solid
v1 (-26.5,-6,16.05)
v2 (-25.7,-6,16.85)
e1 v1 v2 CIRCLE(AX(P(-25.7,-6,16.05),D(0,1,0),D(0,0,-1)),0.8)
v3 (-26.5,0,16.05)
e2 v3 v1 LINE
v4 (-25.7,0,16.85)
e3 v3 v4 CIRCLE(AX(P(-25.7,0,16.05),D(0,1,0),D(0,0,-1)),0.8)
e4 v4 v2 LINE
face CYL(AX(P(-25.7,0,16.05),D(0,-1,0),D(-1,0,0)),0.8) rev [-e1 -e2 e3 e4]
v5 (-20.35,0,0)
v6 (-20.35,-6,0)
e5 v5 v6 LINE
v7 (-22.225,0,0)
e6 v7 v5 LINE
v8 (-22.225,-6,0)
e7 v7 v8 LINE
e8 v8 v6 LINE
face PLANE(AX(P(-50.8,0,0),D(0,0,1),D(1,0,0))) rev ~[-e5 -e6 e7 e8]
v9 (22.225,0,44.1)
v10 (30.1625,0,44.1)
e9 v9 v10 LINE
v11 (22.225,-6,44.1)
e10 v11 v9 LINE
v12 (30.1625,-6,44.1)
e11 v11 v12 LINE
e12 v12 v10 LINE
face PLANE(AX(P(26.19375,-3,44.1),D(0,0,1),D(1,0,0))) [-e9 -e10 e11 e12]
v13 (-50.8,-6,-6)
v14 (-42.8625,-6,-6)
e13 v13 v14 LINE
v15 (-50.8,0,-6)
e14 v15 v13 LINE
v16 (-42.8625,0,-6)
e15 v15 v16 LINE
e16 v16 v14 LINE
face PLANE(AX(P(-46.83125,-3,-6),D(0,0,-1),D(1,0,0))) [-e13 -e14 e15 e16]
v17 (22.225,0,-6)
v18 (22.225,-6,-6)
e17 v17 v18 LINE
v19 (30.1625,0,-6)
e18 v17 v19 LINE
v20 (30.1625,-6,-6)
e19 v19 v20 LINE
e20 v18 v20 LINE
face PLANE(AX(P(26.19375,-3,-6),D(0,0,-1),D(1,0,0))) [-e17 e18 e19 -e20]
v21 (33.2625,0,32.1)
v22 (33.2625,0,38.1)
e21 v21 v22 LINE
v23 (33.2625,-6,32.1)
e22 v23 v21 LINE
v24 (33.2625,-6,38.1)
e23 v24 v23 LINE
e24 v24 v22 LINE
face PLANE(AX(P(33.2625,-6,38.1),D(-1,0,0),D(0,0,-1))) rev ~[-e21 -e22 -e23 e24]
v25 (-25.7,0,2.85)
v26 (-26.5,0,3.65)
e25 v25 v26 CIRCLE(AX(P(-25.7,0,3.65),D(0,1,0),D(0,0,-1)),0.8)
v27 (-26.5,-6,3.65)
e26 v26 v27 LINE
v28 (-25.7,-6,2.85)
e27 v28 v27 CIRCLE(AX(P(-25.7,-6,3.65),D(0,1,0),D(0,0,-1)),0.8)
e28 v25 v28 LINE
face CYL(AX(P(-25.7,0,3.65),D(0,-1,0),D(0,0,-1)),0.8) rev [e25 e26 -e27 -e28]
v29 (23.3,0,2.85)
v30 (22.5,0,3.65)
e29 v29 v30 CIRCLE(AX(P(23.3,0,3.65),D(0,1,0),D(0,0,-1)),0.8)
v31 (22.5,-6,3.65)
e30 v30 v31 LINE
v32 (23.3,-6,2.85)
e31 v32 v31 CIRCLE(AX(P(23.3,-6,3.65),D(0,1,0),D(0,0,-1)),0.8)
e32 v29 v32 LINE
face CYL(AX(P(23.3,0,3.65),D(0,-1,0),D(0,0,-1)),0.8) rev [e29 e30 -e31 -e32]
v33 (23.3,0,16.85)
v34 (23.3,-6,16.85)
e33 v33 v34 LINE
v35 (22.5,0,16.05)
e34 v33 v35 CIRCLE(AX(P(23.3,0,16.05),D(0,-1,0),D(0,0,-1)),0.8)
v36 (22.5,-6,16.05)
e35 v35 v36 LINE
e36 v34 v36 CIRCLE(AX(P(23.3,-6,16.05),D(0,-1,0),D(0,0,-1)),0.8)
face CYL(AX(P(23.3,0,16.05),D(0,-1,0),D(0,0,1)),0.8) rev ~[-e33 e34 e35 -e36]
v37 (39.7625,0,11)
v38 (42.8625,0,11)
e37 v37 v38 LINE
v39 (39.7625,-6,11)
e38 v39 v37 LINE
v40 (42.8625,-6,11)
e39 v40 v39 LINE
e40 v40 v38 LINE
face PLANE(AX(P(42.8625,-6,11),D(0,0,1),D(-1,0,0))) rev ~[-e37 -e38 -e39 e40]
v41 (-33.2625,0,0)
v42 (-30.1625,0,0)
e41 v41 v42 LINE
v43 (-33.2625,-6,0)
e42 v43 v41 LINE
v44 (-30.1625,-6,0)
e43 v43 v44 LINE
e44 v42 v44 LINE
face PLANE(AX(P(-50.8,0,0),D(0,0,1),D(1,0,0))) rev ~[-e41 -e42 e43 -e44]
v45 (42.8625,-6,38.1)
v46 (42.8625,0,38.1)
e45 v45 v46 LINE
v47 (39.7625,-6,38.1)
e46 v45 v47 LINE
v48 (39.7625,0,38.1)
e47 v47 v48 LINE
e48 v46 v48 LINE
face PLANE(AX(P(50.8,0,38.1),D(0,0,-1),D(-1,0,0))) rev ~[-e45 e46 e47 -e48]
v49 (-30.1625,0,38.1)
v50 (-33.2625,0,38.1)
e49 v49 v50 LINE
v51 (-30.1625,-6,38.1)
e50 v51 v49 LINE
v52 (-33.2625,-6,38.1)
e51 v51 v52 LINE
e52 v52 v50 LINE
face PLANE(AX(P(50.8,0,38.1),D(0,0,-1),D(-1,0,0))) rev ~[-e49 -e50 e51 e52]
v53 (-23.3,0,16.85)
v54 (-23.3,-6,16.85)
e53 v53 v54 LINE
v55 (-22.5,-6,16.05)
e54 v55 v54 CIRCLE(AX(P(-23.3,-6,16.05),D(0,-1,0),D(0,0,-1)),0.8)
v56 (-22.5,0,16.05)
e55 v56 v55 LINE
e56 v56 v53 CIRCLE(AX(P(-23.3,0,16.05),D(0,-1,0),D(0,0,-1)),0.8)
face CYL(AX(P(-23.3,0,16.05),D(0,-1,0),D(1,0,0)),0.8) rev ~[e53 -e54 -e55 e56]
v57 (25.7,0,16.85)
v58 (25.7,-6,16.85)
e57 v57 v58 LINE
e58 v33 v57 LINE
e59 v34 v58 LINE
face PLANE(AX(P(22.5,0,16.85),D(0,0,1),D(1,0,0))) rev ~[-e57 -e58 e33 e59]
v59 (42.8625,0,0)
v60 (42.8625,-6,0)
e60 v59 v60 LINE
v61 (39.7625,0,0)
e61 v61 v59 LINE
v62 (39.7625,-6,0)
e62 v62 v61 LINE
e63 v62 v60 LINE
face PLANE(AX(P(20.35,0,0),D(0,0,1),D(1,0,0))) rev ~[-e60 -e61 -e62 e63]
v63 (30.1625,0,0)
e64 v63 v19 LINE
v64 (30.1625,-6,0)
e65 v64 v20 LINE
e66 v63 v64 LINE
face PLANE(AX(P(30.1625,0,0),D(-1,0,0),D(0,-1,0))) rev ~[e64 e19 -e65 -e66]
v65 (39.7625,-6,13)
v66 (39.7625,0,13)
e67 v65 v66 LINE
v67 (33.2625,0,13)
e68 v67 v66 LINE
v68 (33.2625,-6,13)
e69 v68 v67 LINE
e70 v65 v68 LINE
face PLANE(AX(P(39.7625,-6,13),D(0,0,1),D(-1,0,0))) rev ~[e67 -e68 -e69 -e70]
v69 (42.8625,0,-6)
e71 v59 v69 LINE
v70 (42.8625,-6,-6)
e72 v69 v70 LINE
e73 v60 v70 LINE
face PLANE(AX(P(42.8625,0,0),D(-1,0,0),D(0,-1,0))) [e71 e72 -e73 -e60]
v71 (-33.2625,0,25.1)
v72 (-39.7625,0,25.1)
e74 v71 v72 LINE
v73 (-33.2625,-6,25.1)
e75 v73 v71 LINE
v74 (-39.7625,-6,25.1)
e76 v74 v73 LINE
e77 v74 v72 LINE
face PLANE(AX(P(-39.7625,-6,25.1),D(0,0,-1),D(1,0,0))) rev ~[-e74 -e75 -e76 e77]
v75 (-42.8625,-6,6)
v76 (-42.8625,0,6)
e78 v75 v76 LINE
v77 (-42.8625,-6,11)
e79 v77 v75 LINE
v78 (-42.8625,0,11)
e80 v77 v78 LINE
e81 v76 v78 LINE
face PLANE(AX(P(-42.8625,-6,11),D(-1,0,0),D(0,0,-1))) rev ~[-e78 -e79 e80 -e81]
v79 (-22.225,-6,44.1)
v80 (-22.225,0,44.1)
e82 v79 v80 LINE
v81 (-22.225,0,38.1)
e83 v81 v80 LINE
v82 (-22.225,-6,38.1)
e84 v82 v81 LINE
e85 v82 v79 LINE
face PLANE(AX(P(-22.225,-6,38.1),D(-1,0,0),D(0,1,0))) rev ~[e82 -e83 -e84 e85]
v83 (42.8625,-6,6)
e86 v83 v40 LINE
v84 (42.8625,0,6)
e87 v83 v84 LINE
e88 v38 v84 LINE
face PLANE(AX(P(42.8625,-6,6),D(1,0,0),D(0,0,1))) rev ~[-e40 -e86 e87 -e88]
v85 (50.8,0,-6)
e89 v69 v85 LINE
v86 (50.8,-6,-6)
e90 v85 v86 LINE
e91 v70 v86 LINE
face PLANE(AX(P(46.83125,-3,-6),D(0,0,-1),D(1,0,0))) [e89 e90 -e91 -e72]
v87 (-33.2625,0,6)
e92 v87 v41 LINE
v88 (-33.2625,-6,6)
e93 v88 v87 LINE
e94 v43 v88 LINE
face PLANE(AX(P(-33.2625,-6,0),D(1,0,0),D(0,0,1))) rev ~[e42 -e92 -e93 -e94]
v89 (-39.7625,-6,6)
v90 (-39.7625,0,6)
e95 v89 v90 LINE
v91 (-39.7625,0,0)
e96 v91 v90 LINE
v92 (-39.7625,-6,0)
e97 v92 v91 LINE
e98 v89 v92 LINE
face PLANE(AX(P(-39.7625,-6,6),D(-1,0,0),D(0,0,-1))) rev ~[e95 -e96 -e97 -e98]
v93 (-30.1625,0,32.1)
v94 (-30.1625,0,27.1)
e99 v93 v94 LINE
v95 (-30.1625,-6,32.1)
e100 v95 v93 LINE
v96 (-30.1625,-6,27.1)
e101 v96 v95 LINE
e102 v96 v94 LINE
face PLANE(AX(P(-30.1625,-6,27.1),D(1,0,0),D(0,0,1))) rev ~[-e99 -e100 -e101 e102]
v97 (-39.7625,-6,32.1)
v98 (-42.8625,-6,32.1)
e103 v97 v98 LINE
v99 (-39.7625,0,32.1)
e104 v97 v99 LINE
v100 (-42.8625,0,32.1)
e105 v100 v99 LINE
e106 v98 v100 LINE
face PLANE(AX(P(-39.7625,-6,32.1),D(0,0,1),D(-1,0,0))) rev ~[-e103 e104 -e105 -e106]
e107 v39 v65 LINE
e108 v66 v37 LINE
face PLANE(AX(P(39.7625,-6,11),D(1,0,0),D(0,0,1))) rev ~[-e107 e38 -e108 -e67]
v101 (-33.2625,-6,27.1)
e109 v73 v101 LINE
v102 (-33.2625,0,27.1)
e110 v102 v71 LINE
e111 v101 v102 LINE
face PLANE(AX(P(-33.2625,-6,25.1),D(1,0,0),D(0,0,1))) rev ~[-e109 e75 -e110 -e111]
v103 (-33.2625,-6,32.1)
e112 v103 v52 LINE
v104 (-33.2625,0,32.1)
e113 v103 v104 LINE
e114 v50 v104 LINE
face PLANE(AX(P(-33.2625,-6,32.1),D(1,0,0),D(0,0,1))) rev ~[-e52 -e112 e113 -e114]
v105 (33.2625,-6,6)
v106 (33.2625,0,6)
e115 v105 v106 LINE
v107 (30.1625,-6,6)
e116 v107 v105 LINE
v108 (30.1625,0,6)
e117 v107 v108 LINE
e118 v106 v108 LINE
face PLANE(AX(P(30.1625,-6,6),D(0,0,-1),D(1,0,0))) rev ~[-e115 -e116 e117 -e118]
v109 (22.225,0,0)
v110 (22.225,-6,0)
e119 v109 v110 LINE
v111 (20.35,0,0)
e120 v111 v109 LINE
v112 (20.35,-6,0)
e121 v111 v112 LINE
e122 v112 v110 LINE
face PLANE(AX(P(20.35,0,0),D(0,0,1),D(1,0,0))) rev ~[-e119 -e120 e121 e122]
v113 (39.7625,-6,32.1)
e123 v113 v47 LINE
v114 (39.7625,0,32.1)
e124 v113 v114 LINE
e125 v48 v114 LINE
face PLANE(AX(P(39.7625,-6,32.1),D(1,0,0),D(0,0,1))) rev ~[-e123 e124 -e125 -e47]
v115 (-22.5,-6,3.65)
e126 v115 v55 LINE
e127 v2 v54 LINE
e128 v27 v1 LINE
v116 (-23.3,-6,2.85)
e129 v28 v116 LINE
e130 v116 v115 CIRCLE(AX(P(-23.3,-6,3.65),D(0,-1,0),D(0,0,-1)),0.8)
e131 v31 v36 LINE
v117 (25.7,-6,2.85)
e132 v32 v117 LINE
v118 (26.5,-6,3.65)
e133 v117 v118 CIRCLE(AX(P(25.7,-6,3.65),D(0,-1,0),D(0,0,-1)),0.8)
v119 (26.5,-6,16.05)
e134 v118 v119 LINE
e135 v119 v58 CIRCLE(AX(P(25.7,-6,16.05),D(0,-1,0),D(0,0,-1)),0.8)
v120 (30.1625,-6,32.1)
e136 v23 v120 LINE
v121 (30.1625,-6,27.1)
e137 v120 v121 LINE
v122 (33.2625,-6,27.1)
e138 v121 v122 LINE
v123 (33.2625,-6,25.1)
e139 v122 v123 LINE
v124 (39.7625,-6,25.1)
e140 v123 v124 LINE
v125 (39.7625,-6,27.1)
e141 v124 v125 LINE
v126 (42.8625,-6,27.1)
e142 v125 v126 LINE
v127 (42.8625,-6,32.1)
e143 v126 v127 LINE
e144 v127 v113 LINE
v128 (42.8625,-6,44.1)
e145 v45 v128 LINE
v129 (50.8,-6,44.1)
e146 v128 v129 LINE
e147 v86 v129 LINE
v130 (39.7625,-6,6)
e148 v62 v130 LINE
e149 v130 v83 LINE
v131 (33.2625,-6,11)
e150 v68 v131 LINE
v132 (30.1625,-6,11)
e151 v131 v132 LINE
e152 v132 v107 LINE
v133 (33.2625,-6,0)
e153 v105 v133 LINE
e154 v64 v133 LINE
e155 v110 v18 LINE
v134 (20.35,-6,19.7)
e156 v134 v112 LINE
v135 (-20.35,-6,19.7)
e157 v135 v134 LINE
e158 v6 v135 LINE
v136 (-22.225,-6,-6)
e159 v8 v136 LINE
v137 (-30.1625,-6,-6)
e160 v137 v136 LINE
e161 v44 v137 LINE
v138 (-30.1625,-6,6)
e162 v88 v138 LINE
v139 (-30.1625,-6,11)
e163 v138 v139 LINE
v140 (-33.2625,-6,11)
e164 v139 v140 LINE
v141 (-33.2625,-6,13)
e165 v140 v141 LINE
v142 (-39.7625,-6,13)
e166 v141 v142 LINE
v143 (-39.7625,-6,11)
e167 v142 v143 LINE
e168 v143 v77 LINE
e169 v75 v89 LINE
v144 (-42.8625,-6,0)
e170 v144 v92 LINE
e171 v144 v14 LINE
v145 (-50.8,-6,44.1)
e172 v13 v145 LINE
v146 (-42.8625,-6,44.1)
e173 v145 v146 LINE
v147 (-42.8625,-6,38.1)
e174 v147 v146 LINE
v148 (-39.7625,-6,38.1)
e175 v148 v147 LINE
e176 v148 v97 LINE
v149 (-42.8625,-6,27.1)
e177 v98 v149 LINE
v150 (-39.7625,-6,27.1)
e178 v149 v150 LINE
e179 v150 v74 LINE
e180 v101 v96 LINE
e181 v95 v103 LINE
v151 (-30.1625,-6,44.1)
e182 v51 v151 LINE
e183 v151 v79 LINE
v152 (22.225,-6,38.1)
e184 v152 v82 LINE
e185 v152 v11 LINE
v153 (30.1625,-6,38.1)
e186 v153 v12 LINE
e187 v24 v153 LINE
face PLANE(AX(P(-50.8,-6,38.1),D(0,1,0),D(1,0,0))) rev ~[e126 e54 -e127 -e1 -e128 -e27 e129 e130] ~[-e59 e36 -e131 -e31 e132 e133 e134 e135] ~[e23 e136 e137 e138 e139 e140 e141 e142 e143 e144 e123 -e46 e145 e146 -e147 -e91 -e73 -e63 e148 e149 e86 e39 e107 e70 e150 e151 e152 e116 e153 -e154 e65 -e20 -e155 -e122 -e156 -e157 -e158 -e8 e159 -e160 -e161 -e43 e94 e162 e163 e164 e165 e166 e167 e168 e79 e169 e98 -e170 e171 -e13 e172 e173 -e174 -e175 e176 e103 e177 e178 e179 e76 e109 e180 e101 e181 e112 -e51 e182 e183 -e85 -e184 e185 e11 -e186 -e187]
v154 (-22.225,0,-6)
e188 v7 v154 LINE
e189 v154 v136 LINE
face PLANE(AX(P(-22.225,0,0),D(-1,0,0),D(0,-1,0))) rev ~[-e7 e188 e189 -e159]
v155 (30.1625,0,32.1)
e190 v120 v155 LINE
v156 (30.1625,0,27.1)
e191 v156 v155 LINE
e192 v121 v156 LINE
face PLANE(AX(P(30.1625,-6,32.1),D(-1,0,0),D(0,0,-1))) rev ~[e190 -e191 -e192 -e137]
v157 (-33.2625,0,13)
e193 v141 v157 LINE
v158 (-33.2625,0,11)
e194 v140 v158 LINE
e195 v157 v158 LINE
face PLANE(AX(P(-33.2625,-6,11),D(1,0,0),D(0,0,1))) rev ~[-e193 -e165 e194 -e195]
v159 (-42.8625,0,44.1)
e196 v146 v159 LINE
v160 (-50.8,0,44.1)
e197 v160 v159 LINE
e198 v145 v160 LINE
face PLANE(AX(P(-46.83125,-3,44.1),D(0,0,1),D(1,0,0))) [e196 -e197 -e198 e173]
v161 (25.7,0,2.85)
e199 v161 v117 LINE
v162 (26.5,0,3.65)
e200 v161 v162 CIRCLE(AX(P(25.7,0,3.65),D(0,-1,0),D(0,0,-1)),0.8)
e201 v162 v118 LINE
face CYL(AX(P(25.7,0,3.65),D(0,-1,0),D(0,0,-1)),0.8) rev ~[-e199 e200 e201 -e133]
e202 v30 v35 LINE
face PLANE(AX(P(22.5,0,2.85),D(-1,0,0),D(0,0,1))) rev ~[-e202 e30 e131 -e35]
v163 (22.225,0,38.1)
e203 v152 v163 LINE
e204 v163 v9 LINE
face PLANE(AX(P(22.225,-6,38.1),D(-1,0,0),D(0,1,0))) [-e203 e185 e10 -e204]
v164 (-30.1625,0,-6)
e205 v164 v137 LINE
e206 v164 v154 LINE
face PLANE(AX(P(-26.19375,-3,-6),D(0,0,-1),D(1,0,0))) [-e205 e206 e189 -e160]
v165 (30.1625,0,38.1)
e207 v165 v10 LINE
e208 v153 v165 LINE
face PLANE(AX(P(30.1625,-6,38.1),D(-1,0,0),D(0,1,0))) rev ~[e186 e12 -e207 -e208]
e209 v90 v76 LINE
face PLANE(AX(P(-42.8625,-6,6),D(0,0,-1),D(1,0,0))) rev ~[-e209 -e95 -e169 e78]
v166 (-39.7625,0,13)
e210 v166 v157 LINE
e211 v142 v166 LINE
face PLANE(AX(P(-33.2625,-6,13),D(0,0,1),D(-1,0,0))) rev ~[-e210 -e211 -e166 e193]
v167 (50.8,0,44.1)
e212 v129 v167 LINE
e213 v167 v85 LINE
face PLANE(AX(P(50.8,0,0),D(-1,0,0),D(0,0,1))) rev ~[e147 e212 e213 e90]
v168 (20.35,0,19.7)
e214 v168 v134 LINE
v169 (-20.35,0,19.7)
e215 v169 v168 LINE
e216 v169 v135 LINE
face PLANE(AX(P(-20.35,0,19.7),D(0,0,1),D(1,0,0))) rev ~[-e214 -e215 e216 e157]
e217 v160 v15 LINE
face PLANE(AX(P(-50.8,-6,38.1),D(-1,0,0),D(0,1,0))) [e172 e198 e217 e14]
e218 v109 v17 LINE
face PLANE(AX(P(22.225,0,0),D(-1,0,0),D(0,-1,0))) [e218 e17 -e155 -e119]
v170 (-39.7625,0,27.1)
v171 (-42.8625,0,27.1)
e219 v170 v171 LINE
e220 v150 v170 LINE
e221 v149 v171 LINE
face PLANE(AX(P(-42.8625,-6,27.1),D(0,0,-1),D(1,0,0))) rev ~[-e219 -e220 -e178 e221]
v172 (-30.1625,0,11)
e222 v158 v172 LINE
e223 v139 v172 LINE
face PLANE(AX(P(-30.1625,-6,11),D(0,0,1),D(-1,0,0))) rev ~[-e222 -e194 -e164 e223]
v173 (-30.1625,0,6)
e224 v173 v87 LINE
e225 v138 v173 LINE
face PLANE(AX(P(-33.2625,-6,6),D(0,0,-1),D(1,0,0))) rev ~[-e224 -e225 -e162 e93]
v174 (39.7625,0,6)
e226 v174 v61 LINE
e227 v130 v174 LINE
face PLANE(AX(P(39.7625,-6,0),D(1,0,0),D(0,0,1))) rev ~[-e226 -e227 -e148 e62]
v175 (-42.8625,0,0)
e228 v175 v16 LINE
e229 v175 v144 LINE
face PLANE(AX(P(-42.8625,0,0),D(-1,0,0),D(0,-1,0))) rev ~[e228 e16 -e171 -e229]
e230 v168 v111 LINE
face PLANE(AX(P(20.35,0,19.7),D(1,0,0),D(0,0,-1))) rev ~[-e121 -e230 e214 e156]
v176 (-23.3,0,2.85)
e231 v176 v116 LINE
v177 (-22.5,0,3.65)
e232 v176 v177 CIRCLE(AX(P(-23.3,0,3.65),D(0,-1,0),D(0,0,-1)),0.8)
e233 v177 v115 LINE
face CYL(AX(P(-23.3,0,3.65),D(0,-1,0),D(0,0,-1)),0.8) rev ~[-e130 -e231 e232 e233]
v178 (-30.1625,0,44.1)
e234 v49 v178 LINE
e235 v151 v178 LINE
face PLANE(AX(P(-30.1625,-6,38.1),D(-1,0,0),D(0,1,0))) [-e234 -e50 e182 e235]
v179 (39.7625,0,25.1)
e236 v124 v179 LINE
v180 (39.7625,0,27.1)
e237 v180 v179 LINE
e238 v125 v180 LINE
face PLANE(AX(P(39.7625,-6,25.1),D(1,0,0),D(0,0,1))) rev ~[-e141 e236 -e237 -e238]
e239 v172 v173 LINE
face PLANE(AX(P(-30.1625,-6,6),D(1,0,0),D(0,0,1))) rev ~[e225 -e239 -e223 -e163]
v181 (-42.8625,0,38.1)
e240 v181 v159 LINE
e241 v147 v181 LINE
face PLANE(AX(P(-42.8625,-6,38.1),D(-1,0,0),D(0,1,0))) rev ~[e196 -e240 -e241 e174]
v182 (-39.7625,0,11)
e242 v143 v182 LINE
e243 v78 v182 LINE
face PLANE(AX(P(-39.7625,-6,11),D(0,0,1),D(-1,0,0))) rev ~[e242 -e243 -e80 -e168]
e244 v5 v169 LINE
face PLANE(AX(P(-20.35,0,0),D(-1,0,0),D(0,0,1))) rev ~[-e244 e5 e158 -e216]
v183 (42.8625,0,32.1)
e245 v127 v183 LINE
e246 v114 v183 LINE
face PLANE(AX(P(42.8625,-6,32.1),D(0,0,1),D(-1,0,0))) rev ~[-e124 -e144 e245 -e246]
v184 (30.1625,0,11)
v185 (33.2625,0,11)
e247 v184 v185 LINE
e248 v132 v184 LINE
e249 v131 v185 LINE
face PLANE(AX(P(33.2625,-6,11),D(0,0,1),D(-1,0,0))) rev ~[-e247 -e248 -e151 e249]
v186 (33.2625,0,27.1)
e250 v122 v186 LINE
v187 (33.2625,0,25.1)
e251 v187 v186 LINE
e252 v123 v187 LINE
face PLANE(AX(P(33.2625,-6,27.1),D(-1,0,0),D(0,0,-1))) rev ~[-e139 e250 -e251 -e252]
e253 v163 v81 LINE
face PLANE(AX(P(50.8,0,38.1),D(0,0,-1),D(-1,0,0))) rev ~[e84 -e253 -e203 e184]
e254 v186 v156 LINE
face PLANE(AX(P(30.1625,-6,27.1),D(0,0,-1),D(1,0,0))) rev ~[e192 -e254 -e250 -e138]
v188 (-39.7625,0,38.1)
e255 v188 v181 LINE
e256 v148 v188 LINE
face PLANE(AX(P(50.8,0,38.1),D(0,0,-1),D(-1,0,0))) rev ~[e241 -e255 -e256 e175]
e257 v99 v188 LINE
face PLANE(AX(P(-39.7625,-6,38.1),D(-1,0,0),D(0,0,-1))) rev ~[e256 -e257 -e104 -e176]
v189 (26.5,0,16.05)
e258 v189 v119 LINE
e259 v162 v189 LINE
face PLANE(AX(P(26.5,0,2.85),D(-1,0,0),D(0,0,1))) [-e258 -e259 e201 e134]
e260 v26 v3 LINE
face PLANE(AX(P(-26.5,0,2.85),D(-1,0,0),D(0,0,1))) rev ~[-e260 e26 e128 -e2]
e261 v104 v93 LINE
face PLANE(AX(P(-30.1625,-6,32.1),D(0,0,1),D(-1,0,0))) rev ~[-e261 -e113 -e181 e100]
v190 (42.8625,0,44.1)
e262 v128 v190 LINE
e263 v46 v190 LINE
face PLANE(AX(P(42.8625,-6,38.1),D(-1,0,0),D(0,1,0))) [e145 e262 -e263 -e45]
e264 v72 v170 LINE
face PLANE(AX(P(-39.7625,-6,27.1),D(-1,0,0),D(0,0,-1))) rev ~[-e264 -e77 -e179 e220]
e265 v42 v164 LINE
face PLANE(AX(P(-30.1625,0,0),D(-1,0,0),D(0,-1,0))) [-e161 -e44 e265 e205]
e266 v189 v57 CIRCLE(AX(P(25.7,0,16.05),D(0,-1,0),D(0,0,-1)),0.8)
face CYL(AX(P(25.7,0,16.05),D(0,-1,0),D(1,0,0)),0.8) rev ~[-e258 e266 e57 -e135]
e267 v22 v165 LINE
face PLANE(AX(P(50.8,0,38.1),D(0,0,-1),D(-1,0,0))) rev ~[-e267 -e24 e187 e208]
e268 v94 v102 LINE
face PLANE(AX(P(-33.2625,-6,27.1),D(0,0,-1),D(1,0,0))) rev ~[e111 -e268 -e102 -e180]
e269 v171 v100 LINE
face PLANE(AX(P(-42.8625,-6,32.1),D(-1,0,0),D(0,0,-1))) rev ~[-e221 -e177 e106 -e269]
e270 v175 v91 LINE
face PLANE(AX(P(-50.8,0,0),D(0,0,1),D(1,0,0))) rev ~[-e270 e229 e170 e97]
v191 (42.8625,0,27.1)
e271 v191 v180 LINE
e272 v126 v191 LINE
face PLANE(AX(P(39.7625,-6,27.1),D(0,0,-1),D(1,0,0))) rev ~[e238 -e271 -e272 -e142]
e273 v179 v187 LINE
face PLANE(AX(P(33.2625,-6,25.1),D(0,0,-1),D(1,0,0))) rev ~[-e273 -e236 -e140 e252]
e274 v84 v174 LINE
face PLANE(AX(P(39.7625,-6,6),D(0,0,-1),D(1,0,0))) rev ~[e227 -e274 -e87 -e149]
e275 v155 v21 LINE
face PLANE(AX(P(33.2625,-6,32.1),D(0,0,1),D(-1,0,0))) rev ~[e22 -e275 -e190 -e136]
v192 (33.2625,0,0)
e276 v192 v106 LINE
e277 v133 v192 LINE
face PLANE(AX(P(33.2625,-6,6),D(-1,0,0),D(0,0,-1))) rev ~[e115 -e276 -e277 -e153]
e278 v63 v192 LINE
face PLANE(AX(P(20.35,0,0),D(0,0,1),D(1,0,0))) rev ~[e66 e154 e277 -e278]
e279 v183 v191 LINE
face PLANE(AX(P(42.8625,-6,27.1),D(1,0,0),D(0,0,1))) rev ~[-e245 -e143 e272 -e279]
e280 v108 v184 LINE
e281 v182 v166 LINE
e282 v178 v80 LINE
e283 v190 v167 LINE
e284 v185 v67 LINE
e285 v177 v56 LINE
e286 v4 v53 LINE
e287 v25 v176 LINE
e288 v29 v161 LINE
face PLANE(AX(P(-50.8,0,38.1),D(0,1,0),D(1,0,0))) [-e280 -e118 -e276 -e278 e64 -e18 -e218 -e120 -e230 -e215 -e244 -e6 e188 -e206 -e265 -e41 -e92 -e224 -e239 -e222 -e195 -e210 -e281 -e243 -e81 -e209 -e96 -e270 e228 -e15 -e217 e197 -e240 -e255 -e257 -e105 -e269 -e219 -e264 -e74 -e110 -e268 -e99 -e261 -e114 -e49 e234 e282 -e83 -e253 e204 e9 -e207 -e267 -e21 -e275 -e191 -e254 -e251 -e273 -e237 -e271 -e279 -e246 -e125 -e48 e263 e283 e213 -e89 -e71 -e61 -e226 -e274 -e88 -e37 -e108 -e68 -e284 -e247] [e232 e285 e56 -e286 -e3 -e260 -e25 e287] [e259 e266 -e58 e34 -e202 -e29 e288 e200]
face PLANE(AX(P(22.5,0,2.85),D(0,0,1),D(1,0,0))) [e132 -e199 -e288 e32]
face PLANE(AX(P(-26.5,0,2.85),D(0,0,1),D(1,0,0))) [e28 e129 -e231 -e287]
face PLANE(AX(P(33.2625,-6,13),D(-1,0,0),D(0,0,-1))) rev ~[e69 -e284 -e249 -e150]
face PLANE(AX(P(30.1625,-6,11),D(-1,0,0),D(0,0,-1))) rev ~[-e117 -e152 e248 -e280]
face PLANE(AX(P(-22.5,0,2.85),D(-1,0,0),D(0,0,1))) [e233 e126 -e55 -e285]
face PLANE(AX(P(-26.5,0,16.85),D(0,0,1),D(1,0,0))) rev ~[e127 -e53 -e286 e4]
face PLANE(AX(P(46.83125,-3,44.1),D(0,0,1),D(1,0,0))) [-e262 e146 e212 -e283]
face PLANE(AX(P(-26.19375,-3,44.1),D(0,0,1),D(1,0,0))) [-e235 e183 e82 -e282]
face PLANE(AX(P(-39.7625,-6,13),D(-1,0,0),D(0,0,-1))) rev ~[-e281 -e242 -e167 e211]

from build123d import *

# Parameters (mm, degrees)
F0_W     = 4
F0_H     = 14
F1_DEPTH = 6
F2_R     = 0.8
F3_W     = 7.9375
F3_H     = 6
F4_DEPTH = 6
F5_W     = 7.9375
F5_H     = 6
F6_DEPTH = 6
F8_DEPTH = 25.4


with BuildPart() as f1:
    # F0 (on Front) → F1 (new body)
    with BuildSketch(Plane.XZ):
        Polygon((50.8, 38.1), (-50.8, 38.1), (-50.8, 0), (-20.35, 0), (-20.35, 19.7), (20.35, 19.7), (20.35, 0), (50.8, 0), align=None)
        with Locations((-24.5, 9.85)):
            Rectangle(F0_W, F0_H, mode=Mode.SUBTRACT)
        with Locations((24.5, 9.85)):
            Rectangle(F0_W, F0_H, mode=Mode.SUBTRACT)
    extrude(amount=F1_DEPTH)

    # F2
    f2_edges = [f1.edges().sort_by_distance(p)[0] for p in [
        (-26.5, -3, 16.85),
        (-22.5, -3, 2.85),
        (-22.5, -3, 16.85),
        (-26.5, -3, 2.85),
        (22.5, -3, 2.85),
        (22.5, -3, 16.85),
        (26.5, -3, 16.85),
        (26.5, -3, 2.85),
    ]]
    fillet(f2_edges, radius=F2_R)

    # F3 (on face) → F4 (join)
    with BuildSketch(Plane(origin=(0, 0, 0), x_dir=(1, 0, 0), z_dir=(0, 0, -1))):
        with Locations((-46.83125, 3)):
            Rectangle(F3_W, F3_H)
        with Locations((46.83125, 3)):
            Rectangle(F3_W, F3_H)
        with Locations((-26.19375, 3)):
            Rectangle(F3_W, F3_H)
        with Locations((26.19375, 3)):
            Rectangle(F3_W, F3_H)
    extrude(amount=F4_DEPTH)

    # F5 (on face) → F6 (join)
    with BuildSketch(Plane.XY.offset(38.1)):
        with Locations((-46.83125, -3)):
            Rectangle(F5_W, F5_H)
        with Locations((-26.19375, -3)):
            Rectangle(F5_W, F5_H)
        with Locations((26.19375, -3)):
            Rectangle(F5_W, F5_H)
        with Locations((46.83125, -3)):
            Rectangle(F5_W, F5_H)
    extrude(amount=F6_DEPTH)

    # F7 (on face) → F8 (cut)
    with BuildSketch(Plane.XZ.offset(6)):
        Polygon((-33.2625, 38.1), (-36.5125, 38.1), (-39.7625, 38.1), (-39.7625, 32.1), (-42.8625, 32.1), (-42.8625, 27.1), (-39.7625, 27.1), (-39.7625, 25.1), (-36.5125, 25.1), (-33.2625, 25.1), (-33.2625, 27.1), (-30.1625, 27.1), (-30.1625, 32.1), (-33.2625, 32.1), align=None)
        Polygon((39.7625, 32.1), (39.7625, 38.1), (36.5125, 38.1), (33.2625, 38.1), (33.2625, 32.1), (30.1625, 32.1), (30.1625, 27.1), (33.2625, 27.1), (33.2625, 25.1), (36.5125, 25.1), (39.7625, 25.1), (39.7625, 27.1), (42.8625, 27.1), (42.8625, 32.1), align=None)
        Polygon((33.2625, 6), (33.2625, 0), (36.5125, 0), (39.7625, 0), (39.7625, 6), (42.8625, 6), (42.8625, 11), (39.7625, 11), (39.7625, 13), (36.5125, 13), (33.2625, 13), (33.2625, 11), (30.1625, 11), (30.1625, 6), align=None)
        Polygon((-39.7625, 6), (-39.7625, 0), (-36.5125, 0), (-33.2625, 0), (-33.2625, 6), (-30.1625, 6), (-30.1625, 11), (-33.2625, 11), (-33.2625, 13), (-36.5125, 13), (-39.7625, 13), (-39.7625, 11), (-42.8625, 11), (-42.8625, 6), align=None)
    extrude(amount=-F8_DEPTH, mode=Mode.SUBTRACT)


solid = f1.part
